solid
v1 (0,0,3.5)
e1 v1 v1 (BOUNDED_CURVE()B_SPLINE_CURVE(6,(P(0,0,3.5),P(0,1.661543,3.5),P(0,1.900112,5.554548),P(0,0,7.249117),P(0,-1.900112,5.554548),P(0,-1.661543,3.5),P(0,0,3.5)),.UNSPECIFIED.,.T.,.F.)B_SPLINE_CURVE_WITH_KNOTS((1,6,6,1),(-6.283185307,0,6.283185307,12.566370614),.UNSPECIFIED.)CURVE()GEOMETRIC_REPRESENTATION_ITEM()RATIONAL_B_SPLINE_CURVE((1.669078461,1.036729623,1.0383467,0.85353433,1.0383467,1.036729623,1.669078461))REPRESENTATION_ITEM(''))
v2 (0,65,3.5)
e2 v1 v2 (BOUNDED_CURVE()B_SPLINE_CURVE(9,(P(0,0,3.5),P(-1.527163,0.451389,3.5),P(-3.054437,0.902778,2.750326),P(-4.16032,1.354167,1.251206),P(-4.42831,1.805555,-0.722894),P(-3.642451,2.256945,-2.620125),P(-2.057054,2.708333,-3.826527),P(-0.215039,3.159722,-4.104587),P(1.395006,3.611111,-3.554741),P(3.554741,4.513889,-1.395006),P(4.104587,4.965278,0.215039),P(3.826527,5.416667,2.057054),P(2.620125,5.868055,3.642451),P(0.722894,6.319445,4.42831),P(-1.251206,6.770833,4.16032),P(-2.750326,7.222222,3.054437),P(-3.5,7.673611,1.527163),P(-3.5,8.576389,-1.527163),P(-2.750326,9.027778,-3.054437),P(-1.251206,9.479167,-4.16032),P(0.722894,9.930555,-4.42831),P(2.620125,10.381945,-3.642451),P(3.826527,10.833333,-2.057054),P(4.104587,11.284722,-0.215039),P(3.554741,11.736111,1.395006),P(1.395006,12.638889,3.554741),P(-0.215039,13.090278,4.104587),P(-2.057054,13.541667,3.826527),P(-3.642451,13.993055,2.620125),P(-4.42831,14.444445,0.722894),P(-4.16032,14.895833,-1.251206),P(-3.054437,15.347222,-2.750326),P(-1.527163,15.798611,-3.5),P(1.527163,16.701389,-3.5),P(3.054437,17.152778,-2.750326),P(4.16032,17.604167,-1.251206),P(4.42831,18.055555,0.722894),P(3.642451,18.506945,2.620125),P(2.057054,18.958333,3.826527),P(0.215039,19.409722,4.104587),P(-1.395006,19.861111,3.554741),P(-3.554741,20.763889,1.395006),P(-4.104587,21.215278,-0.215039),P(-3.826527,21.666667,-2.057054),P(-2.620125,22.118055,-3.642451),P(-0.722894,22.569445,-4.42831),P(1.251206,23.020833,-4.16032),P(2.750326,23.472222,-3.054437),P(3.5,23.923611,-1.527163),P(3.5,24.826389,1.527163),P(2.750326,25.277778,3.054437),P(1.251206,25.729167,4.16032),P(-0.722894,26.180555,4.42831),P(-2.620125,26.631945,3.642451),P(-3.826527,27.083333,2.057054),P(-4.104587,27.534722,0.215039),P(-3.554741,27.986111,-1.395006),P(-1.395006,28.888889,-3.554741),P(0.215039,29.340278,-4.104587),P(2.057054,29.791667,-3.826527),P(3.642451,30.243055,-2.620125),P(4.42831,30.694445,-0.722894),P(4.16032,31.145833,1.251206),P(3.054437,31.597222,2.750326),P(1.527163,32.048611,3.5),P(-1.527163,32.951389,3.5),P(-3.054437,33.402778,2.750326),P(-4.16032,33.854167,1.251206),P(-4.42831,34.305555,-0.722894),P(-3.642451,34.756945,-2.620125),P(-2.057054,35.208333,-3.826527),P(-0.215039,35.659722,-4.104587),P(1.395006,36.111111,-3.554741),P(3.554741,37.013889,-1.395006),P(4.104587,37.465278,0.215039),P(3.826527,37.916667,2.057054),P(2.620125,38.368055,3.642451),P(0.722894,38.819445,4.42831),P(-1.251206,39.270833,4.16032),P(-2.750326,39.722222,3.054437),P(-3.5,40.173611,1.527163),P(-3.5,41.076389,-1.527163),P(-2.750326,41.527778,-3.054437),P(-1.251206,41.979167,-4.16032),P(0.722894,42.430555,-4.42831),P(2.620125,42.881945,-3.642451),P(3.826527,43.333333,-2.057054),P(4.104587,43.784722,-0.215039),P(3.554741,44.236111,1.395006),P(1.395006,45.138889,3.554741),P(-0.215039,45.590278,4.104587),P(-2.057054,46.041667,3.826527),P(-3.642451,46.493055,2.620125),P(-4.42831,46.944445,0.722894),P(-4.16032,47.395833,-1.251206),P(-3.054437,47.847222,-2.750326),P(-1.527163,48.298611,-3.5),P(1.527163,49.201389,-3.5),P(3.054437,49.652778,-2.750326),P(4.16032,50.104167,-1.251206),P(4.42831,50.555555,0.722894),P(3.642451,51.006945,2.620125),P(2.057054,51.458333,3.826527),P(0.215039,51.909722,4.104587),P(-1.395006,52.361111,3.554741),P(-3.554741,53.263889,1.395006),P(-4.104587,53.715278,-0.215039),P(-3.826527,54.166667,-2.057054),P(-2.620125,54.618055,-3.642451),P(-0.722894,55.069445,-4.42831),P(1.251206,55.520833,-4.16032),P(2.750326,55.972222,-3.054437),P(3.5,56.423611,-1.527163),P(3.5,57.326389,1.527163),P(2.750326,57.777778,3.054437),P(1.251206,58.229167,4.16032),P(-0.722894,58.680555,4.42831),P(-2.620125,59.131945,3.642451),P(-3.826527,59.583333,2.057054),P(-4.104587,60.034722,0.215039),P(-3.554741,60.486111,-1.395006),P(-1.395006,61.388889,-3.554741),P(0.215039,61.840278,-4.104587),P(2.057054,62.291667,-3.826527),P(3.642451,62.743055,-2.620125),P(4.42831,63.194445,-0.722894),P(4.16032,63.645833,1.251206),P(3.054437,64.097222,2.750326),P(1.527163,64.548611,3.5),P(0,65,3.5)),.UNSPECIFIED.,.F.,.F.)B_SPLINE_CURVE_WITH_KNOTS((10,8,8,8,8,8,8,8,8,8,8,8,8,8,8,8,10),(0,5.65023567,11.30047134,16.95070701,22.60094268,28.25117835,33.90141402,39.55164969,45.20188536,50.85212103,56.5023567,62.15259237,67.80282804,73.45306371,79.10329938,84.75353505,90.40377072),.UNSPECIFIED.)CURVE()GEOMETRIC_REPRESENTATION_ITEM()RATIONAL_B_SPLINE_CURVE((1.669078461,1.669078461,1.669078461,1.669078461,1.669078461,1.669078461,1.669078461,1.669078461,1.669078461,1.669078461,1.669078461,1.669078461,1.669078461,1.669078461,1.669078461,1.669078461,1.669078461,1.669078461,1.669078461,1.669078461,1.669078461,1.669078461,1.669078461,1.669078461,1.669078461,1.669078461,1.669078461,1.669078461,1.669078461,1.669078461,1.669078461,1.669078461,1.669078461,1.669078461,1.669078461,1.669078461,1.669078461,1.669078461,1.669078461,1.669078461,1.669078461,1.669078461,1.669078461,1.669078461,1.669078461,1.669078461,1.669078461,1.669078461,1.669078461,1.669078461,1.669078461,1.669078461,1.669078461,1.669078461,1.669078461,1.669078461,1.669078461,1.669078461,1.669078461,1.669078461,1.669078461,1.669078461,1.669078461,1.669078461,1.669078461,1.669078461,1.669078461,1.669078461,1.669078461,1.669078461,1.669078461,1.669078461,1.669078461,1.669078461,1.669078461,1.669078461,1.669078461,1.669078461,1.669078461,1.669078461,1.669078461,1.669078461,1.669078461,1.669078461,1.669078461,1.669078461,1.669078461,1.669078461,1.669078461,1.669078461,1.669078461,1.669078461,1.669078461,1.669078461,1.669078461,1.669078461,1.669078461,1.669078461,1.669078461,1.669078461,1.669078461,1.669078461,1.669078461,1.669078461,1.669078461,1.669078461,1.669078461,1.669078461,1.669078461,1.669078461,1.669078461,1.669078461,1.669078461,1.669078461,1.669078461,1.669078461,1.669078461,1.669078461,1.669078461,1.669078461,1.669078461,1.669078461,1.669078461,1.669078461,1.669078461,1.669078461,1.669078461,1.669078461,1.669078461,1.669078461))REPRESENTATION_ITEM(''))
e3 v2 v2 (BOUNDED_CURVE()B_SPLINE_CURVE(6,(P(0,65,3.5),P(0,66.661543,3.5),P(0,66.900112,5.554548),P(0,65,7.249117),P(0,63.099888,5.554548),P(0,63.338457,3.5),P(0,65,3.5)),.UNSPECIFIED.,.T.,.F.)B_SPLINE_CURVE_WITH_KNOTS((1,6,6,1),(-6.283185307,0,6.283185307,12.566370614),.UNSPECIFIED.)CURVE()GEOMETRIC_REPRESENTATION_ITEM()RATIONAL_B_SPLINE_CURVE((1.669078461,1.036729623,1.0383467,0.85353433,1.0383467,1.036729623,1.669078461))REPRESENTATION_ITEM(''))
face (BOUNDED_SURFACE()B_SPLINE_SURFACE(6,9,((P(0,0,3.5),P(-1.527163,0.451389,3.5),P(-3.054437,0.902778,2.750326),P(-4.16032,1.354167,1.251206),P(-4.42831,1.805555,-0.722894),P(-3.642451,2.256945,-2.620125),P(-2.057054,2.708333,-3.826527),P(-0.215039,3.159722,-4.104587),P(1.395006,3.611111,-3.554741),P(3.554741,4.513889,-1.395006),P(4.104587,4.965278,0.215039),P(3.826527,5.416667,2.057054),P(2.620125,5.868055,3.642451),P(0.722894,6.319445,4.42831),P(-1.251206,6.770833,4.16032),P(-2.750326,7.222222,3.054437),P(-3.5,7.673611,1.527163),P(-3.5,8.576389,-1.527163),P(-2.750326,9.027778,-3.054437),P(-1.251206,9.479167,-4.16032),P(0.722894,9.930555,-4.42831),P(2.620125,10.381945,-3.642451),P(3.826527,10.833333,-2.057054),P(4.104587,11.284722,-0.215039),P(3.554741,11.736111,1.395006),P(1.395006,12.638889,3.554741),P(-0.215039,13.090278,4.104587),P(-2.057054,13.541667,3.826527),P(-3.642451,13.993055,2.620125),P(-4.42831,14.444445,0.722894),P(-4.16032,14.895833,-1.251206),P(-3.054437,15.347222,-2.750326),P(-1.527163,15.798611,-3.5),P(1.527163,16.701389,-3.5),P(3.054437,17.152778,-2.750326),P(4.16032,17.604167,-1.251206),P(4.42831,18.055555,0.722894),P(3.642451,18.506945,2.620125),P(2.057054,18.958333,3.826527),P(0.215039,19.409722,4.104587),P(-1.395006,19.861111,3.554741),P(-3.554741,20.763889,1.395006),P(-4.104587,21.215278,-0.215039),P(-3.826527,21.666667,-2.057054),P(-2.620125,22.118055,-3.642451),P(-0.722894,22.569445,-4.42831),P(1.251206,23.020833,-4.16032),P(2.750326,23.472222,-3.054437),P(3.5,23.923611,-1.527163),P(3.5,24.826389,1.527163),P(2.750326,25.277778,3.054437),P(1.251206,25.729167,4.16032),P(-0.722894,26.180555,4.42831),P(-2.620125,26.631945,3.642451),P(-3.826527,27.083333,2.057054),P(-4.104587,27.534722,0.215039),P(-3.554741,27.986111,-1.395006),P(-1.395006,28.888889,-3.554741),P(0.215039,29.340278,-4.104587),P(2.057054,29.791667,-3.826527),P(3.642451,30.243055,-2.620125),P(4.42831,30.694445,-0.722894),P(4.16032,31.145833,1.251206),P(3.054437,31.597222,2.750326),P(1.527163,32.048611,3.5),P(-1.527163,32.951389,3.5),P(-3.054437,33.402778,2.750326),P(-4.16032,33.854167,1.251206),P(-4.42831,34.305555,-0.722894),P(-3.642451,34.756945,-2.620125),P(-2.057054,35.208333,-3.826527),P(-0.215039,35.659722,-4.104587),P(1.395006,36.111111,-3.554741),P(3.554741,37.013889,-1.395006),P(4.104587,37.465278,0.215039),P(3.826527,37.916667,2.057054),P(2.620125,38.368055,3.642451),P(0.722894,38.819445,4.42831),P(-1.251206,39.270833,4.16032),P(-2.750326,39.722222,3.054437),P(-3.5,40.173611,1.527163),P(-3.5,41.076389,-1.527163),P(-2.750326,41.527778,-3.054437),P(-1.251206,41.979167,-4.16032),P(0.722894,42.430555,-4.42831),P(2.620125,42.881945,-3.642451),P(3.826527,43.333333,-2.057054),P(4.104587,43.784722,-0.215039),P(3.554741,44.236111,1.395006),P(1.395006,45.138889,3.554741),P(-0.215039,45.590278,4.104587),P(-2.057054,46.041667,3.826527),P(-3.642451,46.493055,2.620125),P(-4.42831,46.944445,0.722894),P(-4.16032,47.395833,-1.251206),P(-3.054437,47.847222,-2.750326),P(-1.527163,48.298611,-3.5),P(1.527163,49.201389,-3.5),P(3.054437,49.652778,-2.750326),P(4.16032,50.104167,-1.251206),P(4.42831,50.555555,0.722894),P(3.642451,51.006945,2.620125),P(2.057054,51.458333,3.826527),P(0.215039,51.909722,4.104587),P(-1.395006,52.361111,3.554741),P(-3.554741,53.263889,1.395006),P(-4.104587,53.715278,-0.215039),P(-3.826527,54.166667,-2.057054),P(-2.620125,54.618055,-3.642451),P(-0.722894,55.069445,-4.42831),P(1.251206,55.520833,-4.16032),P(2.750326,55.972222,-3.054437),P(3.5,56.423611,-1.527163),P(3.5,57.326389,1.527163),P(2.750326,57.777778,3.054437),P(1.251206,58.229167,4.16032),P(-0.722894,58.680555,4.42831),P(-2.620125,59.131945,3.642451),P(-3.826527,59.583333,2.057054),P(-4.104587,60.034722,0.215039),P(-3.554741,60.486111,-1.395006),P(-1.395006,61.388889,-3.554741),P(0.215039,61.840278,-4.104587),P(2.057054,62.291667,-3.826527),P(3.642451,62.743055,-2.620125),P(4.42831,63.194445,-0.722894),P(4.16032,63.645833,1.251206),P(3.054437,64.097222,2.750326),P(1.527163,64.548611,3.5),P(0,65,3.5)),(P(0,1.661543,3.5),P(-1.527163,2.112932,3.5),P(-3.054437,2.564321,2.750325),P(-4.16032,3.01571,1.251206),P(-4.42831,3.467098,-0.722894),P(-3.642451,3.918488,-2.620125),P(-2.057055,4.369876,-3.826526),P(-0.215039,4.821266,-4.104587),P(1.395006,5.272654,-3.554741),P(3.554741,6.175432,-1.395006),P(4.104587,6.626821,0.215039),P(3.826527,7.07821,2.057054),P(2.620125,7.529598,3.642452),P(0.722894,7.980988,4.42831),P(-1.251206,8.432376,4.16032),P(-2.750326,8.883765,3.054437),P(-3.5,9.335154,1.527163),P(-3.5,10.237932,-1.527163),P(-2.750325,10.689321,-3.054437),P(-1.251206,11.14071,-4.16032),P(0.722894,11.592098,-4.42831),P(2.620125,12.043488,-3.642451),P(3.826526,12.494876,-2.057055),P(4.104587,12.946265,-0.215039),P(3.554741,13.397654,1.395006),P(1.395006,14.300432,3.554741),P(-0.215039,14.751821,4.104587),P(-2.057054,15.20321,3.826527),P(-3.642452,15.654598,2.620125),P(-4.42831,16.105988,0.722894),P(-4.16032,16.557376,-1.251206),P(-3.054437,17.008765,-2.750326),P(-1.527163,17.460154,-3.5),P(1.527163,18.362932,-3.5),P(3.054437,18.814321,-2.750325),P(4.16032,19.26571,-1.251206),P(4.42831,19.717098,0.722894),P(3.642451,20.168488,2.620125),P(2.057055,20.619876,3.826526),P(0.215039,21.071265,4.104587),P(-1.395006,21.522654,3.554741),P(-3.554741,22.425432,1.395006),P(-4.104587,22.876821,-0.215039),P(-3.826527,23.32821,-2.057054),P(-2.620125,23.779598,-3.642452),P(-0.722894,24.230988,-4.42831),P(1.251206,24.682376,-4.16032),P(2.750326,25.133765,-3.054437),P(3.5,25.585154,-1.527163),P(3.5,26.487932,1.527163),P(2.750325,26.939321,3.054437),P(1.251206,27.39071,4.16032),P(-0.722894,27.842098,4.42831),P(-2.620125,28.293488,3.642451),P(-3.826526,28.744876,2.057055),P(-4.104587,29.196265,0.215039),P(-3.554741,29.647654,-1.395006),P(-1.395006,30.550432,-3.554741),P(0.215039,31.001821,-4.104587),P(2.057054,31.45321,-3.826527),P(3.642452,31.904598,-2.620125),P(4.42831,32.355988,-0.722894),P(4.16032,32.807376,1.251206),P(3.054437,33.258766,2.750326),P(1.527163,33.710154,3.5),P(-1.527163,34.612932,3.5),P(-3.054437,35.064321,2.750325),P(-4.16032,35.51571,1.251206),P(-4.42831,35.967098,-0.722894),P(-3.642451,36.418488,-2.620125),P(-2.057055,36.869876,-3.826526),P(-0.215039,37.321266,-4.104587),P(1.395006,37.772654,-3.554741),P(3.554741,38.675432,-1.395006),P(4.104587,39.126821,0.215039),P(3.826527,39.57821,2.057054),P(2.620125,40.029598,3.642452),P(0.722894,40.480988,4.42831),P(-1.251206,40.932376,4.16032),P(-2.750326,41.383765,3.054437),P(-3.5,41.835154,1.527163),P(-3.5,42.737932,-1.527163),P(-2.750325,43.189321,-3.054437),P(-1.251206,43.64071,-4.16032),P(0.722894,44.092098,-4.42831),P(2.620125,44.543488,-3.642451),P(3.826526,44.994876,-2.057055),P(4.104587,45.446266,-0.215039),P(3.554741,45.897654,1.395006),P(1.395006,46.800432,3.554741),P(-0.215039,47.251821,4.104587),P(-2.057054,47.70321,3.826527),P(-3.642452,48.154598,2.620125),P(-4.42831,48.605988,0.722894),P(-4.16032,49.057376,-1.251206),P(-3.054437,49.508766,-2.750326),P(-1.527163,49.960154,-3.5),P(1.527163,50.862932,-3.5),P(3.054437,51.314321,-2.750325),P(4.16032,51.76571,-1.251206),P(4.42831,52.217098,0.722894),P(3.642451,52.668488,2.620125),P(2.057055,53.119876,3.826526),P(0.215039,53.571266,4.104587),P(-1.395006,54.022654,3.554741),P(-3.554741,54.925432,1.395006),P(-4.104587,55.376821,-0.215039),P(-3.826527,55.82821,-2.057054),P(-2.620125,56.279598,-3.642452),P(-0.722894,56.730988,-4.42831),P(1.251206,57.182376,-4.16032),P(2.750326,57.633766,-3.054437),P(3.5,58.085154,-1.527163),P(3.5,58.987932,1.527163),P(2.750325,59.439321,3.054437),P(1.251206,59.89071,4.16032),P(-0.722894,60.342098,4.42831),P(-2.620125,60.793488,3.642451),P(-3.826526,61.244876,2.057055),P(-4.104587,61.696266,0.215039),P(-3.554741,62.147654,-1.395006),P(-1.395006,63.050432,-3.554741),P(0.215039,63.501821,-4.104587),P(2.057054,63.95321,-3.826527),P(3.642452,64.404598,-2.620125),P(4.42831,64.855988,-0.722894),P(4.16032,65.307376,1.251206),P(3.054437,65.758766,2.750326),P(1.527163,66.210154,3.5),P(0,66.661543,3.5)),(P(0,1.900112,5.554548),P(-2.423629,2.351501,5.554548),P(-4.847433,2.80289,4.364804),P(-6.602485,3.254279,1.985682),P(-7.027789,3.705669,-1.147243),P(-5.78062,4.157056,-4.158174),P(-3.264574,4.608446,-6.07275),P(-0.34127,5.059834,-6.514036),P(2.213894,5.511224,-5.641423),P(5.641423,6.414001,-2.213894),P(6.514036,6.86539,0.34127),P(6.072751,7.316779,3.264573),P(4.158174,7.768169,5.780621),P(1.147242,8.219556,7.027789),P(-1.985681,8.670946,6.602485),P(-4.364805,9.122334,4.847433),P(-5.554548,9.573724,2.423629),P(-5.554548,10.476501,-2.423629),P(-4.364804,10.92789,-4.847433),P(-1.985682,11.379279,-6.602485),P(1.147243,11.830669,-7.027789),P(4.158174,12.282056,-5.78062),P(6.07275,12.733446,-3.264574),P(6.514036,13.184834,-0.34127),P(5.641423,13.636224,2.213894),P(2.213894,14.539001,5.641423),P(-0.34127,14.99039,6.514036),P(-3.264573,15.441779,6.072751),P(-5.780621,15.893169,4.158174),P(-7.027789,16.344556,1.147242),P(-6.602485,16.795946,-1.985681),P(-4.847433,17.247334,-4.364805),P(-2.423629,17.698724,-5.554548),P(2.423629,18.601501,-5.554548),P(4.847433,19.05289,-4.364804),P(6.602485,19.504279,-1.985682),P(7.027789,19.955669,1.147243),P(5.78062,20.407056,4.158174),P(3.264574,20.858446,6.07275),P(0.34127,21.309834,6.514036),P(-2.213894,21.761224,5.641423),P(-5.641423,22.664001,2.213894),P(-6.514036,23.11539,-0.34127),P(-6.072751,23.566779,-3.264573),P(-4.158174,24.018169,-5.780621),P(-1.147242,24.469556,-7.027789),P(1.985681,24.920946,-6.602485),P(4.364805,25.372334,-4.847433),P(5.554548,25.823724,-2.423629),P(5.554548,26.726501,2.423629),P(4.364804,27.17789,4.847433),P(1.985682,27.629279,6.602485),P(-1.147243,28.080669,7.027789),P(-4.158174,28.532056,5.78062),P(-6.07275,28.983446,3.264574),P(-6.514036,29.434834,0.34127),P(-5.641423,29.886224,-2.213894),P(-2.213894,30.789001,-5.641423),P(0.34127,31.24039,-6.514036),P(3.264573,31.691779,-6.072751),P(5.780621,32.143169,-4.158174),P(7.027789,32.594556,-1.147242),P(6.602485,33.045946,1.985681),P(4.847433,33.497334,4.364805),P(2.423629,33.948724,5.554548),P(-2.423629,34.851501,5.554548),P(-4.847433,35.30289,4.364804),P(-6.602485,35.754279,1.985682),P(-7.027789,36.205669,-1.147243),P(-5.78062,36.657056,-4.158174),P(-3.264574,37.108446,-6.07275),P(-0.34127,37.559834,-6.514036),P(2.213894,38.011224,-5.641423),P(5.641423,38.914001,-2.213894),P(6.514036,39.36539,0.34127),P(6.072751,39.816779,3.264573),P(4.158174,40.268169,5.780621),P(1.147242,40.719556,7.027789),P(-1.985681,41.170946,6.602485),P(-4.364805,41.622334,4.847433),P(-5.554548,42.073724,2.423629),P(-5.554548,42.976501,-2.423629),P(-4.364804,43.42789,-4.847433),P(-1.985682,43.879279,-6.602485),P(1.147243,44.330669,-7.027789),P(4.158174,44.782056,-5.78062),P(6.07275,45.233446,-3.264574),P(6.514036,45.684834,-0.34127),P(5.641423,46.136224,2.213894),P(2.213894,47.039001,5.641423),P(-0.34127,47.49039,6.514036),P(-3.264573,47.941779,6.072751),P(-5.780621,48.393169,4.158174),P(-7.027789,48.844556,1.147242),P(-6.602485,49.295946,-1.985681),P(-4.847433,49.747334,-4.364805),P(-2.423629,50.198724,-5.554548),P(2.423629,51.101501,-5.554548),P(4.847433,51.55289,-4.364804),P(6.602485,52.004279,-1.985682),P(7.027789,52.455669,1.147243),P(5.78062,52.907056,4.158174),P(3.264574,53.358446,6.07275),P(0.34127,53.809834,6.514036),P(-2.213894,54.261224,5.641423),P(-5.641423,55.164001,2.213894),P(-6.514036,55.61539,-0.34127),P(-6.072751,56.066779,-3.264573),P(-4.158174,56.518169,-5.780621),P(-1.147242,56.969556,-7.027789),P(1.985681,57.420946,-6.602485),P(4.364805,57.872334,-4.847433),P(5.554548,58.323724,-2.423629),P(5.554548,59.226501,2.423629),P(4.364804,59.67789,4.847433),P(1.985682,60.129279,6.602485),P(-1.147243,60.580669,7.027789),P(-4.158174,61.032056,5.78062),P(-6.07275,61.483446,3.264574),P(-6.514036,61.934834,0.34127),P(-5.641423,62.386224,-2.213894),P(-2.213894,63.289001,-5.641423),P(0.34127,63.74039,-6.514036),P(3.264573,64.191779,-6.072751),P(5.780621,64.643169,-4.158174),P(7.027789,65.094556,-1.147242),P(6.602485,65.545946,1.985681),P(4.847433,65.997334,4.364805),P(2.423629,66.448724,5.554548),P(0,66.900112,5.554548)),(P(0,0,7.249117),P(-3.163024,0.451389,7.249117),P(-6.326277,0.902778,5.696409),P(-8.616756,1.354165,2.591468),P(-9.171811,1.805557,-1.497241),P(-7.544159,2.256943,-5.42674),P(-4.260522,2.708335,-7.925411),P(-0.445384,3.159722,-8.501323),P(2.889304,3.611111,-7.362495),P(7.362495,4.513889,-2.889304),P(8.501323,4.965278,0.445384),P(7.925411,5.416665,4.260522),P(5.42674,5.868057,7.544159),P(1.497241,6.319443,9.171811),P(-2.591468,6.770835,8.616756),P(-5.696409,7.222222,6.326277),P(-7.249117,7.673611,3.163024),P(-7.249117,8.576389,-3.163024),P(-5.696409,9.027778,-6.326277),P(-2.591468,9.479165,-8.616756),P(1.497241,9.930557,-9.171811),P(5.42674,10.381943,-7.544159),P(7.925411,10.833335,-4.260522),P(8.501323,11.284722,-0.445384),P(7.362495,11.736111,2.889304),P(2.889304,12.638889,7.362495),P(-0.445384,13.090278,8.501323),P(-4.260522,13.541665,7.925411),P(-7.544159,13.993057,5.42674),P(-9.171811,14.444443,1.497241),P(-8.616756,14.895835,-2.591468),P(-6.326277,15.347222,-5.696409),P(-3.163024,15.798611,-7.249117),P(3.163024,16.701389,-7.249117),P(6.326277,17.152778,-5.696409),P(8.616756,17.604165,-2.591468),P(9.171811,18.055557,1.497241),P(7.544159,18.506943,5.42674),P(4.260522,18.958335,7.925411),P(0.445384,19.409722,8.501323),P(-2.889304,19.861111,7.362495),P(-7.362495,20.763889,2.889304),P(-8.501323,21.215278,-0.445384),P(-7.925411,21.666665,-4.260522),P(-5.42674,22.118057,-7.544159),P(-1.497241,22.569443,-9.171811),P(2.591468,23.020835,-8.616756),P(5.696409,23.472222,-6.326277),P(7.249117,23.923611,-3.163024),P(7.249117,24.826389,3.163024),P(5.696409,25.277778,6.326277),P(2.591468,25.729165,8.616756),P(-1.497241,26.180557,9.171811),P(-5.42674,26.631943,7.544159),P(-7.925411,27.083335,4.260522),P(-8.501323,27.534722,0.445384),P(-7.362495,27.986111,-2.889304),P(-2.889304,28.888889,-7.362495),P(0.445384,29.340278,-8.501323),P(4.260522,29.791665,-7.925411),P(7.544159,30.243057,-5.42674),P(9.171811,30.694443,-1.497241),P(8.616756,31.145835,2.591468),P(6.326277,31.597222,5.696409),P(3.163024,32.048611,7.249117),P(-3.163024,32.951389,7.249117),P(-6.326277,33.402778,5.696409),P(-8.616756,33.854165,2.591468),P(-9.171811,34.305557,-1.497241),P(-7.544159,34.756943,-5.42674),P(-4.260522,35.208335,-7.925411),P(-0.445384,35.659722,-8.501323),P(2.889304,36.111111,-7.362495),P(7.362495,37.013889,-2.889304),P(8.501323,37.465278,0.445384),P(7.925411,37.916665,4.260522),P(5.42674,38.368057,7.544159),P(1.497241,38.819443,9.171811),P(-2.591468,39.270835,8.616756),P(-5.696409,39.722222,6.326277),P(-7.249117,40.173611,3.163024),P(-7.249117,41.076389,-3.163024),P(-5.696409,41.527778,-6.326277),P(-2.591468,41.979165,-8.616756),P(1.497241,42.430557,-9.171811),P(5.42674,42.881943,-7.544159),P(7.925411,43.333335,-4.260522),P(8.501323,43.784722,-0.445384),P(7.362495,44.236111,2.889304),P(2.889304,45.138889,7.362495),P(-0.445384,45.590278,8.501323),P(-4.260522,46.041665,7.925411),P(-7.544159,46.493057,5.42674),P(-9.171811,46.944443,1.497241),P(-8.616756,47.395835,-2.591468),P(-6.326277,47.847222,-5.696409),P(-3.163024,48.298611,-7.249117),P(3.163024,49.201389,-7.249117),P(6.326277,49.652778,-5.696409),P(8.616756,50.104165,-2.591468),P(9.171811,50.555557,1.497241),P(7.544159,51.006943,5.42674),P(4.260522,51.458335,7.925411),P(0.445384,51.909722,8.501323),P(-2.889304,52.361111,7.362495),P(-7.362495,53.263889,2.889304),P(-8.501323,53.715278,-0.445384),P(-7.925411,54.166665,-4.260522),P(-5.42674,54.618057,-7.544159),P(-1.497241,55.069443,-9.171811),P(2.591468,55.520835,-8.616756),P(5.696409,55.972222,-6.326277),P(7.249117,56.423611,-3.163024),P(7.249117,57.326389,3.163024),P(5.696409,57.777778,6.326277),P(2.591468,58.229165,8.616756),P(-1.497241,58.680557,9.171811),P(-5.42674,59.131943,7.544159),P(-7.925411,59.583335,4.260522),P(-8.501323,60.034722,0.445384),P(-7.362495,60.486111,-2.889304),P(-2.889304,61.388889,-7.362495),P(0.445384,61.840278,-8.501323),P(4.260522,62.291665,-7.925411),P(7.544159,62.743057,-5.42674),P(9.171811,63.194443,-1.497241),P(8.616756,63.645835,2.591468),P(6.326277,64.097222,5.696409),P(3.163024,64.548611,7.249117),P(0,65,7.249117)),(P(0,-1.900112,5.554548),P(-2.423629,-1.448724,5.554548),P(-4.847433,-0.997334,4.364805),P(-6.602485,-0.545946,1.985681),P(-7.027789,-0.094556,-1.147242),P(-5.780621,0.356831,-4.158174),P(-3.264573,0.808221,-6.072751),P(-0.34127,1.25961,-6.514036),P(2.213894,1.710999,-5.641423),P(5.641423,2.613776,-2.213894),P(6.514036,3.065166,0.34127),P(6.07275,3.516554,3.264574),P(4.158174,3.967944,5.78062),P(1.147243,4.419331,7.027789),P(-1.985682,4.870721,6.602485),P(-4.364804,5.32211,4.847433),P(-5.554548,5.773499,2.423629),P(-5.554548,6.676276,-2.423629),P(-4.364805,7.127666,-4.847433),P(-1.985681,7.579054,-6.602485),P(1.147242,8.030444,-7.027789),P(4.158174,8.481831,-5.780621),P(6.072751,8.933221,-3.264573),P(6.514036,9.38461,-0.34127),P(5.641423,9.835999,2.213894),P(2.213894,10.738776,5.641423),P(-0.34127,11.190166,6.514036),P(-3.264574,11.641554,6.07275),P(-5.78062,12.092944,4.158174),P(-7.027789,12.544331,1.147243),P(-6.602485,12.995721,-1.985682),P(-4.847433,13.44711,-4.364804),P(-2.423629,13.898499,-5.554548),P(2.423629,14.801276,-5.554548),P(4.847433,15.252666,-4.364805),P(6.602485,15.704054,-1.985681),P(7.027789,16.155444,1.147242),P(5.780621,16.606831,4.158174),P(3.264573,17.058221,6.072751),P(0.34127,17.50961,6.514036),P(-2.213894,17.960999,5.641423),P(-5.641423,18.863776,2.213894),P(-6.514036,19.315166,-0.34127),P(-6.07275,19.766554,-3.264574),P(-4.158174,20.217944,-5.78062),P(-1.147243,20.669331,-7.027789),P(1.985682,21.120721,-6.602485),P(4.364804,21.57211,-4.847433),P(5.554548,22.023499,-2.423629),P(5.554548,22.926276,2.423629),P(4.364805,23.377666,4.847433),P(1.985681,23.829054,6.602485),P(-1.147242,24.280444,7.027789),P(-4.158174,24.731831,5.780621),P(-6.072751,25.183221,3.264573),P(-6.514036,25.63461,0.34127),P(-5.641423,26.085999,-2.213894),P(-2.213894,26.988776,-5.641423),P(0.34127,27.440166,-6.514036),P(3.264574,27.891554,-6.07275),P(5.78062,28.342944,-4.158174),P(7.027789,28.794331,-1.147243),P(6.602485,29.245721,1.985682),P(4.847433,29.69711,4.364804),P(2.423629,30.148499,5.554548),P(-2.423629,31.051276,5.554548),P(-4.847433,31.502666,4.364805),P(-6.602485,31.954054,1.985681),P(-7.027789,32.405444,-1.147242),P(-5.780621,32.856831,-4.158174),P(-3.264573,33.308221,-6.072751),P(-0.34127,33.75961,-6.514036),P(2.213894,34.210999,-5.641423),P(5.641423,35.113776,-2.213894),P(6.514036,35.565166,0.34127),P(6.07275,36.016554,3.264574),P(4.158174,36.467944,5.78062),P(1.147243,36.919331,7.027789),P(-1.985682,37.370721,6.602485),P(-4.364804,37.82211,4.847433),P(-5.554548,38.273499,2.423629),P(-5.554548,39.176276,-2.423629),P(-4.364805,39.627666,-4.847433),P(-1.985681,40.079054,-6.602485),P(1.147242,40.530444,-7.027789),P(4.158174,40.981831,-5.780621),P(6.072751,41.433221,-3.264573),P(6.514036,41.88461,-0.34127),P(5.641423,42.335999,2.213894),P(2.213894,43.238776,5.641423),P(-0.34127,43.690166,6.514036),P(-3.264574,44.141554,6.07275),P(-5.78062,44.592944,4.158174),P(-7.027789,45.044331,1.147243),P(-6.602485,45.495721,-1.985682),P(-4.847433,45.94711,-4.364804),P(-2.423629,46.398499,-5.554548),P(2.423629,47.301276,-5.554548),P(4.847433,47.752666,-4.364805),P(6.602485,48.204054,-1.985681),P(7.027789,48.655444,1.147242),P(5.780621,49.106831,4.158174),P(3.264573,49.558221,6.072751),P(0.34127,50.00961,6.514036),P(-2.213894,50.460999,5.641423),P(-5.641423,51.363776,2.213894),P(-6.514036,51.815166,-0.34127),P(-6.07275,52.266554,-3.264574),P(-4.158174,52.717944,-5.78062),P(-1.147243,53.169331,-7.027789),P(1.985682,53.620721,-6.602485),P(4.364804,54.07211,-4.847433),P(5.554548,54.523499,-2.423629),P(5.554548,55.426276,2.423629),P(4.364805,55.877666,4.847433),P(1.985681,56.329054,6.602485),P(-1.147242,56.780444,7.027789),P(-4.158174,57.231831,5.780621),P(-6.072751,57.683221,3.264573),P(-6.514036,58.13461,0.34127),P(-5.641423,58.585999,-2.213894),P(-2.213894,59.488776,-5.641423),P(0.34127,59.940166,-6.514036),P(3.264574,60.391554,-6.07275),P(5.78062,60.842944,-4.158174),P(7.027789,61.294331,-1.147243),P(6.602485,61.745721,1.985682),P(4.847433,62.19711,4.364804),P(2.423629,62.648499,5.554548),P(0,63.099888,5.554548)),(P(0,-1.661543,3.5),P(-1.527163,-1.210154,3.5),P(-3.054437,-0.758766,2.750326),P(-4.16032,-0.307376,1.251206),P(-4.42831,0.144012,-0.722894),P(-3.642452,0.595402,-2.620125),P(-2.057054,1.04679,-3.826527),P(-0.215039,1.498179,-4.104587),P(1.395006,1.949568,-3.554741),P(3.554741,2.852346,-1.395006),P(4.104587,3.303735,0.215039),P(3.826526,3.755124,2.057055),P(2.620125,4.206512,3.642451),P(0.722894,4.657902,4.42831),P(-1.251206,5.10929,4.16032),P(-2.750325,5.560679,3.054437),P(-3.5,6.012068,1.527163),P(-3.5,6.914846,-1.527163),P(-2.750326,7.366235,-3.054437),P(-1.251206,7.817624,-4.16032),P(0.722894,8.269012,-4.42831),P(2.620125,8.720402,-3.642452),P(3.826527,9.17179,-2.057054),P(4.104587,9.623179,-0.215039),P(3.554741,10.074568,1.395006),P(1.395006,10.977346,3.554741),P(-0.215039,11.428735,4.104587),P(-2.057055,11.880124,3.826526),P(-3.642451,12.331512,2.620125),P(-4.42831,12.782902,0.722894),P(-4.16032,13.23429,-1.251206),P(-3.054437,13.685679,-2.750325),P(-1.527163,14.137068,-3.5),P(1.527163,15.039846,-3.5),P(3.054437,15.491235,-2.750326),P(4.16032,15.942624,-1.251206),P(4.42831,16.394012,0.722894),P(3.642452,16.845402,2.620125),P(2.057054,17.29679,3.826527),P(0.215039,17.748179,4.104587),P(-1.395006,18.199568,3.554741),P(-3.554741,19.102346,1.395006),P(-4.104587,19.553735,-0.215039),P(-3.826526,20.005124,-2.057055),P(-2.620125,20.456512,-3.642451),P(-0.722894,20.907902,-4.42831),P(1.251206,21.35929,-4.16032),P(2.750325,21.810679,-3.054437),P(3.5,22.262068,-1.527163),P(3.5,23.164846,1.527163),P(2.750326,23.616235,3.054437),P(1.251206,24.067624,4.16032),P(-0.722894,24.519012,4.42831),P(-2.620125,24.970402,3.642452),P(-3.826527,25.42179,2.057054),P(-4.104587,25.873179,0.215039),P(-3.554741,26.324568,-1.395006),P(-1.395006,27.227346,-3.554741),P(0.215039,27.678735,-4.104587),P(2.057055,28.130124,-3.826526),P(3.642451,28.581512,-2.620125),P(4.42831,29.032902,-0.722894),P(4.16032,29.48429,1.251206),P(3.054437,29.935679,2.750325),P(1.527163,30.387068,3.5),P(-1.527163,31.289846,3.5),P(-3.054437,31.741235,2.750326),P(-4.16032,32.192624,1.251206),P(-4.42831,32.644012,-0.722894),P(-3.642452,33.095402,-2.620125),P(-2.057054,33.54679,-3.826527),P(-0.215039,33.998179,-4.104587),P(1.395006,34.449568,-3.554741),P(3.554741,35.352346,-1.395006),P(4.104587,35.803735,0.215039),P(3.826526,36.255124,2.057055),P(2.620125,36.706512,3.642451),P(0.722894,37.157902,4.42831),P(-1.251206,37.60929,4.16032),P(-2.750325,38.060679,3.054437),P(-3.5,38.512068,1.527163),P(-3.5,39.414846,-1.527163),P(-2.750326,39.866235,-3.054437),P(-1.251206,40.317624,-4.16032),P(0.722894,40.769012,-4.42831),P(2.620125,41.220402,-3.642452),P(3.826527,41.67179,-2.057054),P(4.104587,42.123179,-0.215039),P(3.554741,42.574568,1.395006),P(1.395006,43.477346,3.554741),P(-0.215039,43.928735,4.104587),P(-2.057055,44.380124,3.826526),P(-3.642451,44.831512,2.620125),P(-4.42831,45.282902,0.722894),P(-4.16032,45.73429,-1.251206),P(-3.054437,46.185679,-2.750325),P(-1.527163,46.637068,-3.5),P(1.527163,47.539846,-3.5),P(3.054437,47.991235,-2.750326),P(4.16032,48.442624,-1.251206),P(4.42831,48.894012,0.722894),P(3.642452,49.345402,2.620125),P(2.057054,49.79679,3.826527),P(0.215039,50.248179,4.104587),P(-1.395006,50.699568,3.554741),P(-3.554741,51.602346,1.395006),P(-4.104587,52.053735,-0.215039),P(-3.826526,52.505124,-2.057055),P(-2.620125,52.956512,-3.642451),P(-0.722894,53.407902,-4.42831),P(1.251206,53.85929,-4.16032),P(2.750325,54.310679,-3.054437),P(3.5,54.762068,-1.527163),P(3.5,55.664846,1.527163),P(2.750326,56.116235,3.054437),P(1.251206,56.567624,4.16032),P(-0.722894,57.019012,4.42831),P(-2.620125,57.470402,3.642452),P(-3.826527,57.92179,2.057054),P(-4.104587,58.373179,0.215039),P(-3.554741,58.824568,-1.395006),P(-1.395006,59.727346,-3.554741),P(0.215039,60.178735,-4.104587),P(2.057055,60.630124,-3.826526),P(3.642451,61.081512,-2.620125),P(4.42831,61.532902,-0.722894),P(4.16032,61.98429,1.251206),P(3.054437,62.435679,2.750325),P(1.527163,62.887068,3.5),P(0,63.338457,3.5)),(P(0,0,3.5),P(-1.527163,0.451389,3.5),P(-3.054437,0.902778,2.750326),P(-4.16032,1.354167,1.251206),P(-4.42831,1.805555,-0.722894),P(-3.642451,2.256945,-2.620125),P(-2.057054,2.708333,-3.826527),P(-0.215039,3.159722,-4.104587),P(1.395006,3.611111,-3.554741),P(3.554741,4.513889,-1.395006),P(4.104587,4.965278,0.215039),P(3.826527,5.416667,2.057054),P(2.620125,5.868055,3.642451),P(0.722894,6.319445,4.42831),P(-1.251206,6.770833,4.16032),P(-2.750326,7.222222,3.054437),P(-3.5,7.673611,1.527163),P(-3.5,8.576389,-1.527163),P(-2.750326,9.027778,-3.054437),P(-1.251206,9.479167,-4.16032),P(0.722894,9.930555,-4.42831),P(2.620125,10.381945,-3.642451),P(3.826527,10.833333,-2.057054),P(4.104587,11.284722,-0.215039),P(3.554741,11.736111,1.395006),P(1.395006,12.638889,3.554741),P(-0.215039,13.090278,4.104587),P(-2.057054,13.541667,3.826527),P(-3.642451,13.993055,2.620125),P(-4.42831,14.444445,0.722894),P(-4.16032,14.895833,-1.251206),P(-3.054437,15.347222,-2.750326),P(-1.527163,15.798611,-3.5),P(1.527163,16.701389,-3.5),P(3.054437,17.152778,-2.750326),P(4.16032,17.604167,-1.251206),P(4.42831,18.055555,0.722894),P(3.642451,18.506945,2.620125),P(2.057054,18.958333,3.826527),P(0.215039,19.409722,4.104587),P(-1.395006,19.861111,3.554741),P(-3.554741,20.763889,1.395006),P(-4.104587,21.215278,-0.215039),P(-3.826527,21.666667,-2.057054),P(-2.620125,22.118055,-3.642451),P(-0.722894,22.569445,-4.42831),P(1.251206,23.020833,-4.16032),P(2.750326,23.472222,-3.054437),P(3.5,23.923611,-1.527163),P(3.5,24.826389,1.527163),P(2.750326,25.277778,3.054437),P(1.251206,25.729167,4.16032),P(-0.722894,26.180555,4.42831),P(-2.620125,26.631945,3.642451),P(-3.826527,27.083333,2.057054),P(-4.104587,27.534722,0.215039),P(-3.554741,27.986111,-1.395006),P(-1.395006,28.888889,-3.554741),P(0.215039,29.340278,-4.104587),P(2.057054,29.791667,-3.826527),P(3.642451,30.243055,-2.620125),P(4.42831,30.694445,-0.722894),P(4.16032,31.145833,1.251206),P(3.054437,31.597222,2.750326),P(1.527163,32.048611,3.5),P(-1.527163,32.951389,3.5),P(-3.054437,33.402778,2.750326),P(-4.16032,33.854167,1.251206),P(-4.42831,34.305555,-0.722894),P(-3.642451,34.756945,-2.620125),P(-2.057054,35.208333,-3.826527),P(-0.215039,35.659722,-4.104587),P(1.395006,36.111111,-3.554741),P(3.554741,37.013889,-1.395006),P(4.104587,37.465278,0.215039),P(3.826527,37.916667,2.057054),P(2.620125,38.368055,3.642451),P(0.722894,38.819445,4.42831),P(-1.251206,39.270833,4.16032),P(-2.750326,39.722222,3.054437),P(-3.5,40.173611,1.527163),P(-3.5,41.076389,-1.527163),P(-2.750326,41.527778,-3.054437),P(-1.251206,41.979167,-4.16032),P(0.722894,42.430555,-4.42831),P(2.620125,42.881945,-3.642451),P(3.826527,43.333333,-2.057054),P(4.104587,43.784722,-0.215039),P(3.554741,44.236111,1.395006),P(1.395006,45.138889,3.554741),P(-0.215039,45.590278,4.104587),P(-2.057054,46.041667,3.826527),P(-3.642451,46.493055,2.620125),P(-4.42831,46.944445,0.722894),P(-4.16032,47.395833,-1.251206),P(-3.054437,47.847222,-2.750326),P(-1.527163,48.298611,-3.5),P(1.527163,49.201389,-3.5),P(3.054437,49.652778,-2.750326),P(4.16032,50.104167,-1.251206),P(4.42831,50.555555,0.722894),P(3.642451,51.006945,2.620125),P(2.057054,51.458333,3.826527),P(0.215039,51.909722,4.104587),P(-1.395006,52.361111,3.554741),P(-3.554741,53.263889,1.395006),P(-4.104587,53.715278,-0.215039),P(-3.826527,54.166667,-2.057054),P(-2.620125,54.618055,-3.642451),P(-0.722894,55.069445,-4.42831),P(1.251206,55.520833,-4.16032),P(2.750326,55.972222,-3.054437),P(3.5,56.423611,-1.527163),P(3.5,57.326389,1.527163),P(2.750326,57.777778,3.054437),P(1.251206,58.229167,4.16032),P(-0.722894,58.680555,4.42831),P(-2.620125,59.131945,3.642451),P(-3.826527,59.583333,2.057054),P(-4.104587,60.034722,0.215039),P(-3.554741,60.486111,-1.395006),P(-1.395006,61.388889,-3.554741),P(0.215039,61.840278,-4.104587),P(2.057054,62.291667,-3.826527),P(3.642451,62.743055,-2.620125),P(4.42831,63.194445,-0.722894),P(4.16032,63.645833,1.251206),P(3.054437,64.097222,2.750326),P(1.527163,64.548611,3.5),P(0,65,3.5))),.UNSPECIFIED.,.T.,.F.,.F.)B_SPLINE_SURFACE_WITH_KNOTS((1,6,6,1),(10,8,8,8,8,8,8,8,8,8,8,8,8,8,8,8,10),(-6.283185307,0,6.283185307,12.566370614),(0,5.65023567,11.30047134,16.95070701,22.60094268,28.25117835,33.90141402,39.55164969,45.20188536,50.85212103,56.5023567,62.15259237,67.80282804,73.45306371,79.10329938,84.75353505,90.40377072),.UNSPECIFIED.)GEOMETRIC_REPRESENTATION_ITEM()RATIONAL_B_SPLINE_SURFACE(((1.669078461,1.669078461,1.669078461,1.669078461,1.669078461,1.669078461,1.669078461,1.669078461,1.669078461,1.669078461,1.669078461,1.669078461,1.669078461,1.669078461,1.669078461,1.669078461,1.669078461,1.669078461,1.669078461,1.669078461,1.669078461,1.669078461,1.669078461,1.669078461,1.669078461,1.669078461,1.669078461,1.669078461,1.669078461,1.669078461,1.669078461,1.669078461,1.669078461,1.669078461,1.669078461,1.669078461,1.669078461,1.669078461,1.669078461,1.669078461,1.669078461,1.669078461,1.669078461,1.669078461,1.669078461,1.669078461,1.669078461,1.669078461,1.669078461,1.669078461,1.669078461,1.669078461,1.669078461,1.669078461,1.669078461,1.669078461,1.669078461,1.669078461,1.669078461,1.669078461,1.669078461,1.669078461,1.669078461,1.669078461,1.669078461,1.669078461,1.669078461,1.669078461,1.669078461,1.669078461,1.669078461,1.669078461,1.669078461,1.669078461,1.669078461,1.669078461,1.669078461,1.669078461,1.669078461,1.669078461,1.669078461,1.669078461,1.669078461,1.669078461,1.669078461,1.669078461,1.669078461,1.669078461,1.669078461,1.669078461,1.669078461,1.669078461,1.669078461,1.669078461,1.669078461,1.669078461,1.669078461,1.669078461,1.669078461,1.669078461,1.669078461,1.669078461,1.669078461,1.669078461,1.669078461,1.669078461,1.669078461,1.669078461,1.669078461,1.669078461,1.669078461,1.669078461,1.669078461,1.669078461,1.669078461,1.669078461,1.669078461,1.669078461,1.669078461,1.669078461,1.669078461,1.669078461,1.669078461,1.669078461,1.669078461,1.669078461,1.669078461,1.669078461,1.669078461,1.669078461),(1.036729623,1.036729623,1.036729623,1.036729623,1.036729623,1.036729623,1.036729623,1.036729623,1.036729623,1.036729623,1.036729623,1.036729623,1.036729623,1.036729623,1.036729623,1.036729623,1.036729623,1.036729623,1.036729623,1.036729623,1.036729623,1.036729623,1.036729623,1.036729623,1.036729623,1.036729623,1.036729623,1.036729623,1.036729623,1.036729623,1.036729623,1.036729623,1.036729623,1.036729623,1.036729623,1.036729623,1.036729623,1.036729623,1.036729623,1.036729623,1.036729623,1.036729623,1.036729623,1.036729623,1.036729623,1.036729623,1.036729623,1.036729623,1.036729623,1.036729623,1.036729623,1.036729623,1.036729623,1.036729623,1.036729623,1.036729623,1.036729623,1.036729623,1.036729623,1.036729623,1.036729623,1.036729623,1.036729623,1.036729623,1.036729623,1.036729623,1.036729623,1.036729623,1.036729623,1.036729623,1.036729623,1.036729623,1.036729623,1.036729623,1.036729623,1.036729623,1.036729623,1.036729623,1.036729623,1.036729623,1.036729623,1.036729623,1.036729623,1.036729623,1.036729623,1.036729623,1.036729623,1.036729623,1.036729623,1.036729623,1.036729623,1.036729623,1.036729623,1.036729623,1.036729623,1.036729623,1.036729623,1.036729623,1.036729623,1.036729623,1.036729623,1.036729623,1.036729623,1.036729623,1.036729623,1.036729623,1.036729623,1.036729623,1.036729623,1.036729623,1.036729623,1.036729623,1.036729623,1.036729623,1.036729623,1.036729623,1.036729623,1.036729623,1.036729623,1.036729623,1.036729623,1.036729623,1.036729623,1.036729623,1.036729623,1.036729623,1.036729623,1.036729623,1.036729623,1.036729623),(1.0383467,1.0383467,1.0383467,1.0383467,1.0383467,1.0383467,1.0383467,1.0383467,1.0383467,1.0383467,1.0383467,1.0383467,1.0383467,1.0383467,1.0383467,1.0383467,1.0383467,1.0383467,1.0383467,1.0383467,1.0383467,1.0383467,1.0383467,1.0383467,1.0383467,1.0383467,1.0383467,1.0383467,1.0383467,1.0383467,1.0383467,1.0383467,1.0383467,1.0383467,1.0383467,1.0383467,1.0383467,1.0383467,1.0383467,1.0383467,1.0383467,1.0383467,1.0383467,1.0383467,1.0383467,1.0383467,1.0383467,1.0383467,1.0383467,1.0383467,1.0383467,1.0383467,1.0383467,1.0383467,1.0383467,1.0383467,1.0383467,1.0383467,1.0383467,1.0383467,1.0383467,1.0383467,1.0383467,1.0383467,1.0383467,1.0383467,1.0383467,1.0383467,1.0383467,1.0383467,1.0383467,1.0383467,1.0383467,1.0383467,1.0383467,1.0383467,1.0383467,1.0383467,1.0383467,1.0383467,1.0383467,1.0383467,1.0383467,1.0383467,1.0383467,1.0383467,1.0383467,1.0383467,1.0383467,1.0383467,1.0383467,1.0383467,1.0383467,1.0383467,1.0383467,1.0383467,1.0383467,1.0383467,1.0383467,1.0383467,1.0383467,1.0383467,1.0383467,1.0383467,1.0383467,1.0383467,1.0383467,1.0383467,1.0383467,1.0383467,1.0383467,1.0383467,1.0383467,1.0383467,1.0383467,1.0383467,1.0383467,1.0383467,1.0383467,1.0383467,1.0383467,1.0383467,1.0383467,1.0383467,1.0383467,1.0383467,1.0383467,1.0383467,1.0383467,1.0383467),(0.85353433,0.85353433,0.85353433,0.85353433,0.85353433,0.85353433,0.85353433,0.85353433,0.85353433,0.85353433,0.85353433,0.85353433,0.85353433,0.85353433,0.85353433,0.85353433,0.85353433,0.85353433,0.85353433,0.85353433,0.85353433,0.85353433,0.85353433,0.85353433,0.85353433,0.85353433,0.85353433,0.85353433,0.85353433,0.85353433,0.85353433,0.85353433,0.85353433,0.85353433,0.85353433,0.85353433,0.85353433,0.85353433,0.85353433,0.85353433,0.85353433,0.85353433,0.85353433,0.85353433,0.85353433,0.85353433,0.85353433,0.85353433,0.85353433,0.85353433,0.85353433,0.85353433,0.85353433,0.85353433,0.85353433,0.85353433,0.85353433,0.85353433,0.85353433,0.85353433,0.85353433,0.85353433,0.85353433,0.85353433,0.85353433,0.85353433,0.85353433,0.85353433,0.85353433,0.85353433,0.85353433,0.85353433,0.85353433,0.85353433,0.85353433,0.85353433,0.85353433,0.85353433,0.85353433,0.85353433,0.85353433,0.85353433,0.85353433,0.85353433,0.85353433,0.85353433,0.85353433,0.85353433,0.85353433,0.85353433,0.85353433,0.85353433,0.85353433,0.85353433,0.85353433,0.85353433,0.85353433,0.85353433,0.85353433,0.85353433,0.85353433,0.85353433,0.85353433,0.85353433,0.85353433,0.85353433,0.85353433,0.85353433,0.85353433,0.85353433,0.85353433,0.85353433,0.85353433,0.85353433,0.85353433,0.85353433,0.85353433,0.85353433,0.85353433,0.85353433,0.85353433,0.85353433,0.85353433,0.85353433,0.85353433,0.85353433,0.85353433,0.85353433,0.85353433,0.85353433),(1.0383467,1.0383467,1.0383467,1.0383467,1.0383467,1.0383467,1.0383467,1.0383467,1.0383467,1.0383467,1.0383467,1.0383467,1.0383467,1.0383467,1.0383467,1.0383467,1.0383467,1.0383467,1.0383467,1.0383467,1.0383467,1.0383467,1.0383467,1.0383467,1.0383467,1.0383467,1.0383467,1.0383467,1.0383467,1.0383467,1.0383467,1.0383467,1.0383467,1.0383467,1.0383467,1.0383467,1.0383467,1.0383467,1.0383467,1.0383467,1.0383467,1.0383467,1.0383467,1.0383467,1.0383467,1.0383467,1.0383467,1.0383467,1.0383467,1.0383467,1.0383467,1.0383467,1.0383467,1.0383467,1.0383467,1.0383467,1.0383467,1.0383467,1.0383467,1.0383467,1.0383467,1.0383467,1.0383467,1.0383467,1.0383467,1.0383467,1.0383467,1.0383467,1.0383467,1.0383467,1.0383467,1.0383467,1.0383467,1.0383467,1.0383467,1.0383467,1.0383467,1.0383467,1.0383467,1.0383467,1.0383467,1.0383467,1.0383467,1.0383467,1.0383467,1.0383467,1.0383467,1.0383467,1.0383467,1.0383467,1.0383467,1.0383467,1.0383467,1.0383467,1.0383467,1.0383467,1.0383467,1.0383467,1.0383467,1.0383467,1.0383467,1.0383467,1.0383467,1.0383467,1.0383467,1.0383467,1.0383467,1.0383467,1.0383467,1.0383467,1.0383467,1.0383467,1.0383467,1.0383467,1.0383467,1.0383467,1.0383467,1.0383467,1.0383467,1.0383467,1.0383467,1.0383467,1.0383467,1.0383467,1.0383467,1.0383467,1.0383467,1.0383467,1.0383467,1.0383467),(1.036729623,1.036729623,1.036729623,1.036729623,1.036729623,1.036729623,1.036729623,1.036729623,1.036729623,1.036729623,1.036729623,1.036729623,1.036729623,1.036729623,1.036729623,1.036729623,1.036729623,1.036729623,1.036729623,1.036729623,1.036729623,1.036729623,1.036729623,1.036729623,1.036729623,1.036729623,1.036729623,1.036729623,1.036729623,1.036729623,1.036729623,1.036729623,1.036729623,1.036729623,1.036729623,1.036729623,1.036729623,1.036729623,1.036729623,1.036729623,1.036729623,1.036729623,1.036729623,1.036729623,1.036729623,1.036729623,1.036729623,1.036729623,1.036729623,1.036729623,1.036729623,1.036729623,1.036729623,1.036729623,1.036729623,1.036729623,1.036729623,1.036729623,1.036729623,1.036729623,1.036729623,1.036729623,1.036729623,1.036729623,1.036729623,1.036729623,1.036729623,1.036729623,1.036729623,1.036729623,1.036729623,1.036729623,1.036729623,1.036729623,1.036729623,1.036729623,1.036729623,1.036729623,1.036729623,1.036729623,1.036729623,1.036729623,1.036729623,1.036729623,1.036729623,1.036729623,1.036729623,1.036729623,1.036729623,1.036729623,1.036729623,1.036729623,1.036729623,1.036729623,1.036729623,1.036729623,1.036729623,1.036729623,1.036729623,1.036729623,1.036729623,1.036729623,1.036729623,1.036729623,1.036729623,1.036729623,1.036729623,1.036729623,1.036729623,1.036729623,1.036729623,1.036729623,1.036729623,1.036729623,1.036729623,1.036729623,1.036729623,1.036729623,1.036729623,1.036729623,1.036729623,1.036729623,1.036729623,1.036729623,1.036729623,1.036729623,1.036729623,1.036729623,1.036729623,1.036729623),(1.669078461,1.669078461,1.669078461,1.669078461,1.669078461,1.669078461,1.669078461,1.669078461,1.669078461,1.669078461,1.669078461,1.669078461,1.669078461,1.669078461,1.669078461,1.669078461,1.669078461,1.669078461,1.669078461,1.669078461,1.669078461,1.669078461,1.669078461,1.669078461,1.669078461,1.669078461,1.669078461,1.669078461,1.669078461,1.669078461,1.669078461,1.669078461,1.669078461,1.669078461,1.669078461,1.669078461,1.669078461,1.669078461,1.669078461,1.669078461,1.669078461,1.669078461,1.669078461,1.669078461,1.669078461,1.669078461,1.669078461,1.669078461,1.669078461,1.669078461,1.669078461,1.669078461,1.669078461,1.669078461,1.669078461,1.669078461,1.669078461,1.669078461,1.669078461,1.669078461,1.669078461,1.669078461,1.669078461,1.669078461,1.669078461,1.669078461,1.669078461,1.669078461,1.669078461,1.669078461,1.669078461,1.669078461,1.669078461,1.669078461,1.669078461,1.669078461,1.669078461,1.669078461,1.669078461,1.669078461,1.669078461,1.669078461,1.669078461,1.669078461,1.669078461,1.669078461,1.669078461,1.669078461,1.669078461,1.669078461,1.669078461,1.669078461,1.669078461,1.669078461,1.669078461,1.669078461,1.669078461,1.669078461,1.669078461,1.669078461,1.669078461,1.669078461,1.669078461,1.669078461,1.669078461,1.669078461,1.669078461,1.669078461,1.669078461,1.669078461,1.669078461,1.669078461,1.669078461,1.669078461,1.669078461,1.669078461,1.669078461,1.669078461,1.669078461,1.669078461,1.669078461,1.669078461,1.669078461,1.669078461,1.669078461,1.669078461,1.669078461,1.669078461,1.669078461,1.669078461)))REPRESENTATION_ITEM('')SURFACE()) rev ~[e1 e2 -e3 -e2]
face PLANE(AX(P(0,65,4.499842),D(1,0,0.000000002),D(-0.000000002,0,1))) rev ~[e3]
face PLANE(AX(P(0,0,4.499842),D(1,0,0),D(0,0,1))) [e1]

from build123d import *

# Parameters (mm, degrees)
SWEEP_1_PITCH  = 6.5
SWEEP_1_HEIGHT = 65
SWEEP_1_RADIUS = 4.5
SKETCH_2_R     = 1


with BuildPart() as part:
    # 扫描1: sweep along a helix
    with BuildLine() as sweep_1_path:
        Helix(SWEEP_1_PITCH, SWEEP_1_HEIGHT, SWEEP_1_RADIUS, center=(0, 0, 0), direction=(0, 1, 0), lefthand=True)
    # 草图2 → 扫描1 (sweep)
    with BuildSketch(Plane(origin=(0, 0, 0), x_dir=(0, 0, -1), z_dir=(1, 0, 0))):
        with Locations((-4.5, 0)):
            Circle(SKETCH_2_R)
    sweep(path=sweep_1_path.line, is_frenet=True)


solid = part.part
